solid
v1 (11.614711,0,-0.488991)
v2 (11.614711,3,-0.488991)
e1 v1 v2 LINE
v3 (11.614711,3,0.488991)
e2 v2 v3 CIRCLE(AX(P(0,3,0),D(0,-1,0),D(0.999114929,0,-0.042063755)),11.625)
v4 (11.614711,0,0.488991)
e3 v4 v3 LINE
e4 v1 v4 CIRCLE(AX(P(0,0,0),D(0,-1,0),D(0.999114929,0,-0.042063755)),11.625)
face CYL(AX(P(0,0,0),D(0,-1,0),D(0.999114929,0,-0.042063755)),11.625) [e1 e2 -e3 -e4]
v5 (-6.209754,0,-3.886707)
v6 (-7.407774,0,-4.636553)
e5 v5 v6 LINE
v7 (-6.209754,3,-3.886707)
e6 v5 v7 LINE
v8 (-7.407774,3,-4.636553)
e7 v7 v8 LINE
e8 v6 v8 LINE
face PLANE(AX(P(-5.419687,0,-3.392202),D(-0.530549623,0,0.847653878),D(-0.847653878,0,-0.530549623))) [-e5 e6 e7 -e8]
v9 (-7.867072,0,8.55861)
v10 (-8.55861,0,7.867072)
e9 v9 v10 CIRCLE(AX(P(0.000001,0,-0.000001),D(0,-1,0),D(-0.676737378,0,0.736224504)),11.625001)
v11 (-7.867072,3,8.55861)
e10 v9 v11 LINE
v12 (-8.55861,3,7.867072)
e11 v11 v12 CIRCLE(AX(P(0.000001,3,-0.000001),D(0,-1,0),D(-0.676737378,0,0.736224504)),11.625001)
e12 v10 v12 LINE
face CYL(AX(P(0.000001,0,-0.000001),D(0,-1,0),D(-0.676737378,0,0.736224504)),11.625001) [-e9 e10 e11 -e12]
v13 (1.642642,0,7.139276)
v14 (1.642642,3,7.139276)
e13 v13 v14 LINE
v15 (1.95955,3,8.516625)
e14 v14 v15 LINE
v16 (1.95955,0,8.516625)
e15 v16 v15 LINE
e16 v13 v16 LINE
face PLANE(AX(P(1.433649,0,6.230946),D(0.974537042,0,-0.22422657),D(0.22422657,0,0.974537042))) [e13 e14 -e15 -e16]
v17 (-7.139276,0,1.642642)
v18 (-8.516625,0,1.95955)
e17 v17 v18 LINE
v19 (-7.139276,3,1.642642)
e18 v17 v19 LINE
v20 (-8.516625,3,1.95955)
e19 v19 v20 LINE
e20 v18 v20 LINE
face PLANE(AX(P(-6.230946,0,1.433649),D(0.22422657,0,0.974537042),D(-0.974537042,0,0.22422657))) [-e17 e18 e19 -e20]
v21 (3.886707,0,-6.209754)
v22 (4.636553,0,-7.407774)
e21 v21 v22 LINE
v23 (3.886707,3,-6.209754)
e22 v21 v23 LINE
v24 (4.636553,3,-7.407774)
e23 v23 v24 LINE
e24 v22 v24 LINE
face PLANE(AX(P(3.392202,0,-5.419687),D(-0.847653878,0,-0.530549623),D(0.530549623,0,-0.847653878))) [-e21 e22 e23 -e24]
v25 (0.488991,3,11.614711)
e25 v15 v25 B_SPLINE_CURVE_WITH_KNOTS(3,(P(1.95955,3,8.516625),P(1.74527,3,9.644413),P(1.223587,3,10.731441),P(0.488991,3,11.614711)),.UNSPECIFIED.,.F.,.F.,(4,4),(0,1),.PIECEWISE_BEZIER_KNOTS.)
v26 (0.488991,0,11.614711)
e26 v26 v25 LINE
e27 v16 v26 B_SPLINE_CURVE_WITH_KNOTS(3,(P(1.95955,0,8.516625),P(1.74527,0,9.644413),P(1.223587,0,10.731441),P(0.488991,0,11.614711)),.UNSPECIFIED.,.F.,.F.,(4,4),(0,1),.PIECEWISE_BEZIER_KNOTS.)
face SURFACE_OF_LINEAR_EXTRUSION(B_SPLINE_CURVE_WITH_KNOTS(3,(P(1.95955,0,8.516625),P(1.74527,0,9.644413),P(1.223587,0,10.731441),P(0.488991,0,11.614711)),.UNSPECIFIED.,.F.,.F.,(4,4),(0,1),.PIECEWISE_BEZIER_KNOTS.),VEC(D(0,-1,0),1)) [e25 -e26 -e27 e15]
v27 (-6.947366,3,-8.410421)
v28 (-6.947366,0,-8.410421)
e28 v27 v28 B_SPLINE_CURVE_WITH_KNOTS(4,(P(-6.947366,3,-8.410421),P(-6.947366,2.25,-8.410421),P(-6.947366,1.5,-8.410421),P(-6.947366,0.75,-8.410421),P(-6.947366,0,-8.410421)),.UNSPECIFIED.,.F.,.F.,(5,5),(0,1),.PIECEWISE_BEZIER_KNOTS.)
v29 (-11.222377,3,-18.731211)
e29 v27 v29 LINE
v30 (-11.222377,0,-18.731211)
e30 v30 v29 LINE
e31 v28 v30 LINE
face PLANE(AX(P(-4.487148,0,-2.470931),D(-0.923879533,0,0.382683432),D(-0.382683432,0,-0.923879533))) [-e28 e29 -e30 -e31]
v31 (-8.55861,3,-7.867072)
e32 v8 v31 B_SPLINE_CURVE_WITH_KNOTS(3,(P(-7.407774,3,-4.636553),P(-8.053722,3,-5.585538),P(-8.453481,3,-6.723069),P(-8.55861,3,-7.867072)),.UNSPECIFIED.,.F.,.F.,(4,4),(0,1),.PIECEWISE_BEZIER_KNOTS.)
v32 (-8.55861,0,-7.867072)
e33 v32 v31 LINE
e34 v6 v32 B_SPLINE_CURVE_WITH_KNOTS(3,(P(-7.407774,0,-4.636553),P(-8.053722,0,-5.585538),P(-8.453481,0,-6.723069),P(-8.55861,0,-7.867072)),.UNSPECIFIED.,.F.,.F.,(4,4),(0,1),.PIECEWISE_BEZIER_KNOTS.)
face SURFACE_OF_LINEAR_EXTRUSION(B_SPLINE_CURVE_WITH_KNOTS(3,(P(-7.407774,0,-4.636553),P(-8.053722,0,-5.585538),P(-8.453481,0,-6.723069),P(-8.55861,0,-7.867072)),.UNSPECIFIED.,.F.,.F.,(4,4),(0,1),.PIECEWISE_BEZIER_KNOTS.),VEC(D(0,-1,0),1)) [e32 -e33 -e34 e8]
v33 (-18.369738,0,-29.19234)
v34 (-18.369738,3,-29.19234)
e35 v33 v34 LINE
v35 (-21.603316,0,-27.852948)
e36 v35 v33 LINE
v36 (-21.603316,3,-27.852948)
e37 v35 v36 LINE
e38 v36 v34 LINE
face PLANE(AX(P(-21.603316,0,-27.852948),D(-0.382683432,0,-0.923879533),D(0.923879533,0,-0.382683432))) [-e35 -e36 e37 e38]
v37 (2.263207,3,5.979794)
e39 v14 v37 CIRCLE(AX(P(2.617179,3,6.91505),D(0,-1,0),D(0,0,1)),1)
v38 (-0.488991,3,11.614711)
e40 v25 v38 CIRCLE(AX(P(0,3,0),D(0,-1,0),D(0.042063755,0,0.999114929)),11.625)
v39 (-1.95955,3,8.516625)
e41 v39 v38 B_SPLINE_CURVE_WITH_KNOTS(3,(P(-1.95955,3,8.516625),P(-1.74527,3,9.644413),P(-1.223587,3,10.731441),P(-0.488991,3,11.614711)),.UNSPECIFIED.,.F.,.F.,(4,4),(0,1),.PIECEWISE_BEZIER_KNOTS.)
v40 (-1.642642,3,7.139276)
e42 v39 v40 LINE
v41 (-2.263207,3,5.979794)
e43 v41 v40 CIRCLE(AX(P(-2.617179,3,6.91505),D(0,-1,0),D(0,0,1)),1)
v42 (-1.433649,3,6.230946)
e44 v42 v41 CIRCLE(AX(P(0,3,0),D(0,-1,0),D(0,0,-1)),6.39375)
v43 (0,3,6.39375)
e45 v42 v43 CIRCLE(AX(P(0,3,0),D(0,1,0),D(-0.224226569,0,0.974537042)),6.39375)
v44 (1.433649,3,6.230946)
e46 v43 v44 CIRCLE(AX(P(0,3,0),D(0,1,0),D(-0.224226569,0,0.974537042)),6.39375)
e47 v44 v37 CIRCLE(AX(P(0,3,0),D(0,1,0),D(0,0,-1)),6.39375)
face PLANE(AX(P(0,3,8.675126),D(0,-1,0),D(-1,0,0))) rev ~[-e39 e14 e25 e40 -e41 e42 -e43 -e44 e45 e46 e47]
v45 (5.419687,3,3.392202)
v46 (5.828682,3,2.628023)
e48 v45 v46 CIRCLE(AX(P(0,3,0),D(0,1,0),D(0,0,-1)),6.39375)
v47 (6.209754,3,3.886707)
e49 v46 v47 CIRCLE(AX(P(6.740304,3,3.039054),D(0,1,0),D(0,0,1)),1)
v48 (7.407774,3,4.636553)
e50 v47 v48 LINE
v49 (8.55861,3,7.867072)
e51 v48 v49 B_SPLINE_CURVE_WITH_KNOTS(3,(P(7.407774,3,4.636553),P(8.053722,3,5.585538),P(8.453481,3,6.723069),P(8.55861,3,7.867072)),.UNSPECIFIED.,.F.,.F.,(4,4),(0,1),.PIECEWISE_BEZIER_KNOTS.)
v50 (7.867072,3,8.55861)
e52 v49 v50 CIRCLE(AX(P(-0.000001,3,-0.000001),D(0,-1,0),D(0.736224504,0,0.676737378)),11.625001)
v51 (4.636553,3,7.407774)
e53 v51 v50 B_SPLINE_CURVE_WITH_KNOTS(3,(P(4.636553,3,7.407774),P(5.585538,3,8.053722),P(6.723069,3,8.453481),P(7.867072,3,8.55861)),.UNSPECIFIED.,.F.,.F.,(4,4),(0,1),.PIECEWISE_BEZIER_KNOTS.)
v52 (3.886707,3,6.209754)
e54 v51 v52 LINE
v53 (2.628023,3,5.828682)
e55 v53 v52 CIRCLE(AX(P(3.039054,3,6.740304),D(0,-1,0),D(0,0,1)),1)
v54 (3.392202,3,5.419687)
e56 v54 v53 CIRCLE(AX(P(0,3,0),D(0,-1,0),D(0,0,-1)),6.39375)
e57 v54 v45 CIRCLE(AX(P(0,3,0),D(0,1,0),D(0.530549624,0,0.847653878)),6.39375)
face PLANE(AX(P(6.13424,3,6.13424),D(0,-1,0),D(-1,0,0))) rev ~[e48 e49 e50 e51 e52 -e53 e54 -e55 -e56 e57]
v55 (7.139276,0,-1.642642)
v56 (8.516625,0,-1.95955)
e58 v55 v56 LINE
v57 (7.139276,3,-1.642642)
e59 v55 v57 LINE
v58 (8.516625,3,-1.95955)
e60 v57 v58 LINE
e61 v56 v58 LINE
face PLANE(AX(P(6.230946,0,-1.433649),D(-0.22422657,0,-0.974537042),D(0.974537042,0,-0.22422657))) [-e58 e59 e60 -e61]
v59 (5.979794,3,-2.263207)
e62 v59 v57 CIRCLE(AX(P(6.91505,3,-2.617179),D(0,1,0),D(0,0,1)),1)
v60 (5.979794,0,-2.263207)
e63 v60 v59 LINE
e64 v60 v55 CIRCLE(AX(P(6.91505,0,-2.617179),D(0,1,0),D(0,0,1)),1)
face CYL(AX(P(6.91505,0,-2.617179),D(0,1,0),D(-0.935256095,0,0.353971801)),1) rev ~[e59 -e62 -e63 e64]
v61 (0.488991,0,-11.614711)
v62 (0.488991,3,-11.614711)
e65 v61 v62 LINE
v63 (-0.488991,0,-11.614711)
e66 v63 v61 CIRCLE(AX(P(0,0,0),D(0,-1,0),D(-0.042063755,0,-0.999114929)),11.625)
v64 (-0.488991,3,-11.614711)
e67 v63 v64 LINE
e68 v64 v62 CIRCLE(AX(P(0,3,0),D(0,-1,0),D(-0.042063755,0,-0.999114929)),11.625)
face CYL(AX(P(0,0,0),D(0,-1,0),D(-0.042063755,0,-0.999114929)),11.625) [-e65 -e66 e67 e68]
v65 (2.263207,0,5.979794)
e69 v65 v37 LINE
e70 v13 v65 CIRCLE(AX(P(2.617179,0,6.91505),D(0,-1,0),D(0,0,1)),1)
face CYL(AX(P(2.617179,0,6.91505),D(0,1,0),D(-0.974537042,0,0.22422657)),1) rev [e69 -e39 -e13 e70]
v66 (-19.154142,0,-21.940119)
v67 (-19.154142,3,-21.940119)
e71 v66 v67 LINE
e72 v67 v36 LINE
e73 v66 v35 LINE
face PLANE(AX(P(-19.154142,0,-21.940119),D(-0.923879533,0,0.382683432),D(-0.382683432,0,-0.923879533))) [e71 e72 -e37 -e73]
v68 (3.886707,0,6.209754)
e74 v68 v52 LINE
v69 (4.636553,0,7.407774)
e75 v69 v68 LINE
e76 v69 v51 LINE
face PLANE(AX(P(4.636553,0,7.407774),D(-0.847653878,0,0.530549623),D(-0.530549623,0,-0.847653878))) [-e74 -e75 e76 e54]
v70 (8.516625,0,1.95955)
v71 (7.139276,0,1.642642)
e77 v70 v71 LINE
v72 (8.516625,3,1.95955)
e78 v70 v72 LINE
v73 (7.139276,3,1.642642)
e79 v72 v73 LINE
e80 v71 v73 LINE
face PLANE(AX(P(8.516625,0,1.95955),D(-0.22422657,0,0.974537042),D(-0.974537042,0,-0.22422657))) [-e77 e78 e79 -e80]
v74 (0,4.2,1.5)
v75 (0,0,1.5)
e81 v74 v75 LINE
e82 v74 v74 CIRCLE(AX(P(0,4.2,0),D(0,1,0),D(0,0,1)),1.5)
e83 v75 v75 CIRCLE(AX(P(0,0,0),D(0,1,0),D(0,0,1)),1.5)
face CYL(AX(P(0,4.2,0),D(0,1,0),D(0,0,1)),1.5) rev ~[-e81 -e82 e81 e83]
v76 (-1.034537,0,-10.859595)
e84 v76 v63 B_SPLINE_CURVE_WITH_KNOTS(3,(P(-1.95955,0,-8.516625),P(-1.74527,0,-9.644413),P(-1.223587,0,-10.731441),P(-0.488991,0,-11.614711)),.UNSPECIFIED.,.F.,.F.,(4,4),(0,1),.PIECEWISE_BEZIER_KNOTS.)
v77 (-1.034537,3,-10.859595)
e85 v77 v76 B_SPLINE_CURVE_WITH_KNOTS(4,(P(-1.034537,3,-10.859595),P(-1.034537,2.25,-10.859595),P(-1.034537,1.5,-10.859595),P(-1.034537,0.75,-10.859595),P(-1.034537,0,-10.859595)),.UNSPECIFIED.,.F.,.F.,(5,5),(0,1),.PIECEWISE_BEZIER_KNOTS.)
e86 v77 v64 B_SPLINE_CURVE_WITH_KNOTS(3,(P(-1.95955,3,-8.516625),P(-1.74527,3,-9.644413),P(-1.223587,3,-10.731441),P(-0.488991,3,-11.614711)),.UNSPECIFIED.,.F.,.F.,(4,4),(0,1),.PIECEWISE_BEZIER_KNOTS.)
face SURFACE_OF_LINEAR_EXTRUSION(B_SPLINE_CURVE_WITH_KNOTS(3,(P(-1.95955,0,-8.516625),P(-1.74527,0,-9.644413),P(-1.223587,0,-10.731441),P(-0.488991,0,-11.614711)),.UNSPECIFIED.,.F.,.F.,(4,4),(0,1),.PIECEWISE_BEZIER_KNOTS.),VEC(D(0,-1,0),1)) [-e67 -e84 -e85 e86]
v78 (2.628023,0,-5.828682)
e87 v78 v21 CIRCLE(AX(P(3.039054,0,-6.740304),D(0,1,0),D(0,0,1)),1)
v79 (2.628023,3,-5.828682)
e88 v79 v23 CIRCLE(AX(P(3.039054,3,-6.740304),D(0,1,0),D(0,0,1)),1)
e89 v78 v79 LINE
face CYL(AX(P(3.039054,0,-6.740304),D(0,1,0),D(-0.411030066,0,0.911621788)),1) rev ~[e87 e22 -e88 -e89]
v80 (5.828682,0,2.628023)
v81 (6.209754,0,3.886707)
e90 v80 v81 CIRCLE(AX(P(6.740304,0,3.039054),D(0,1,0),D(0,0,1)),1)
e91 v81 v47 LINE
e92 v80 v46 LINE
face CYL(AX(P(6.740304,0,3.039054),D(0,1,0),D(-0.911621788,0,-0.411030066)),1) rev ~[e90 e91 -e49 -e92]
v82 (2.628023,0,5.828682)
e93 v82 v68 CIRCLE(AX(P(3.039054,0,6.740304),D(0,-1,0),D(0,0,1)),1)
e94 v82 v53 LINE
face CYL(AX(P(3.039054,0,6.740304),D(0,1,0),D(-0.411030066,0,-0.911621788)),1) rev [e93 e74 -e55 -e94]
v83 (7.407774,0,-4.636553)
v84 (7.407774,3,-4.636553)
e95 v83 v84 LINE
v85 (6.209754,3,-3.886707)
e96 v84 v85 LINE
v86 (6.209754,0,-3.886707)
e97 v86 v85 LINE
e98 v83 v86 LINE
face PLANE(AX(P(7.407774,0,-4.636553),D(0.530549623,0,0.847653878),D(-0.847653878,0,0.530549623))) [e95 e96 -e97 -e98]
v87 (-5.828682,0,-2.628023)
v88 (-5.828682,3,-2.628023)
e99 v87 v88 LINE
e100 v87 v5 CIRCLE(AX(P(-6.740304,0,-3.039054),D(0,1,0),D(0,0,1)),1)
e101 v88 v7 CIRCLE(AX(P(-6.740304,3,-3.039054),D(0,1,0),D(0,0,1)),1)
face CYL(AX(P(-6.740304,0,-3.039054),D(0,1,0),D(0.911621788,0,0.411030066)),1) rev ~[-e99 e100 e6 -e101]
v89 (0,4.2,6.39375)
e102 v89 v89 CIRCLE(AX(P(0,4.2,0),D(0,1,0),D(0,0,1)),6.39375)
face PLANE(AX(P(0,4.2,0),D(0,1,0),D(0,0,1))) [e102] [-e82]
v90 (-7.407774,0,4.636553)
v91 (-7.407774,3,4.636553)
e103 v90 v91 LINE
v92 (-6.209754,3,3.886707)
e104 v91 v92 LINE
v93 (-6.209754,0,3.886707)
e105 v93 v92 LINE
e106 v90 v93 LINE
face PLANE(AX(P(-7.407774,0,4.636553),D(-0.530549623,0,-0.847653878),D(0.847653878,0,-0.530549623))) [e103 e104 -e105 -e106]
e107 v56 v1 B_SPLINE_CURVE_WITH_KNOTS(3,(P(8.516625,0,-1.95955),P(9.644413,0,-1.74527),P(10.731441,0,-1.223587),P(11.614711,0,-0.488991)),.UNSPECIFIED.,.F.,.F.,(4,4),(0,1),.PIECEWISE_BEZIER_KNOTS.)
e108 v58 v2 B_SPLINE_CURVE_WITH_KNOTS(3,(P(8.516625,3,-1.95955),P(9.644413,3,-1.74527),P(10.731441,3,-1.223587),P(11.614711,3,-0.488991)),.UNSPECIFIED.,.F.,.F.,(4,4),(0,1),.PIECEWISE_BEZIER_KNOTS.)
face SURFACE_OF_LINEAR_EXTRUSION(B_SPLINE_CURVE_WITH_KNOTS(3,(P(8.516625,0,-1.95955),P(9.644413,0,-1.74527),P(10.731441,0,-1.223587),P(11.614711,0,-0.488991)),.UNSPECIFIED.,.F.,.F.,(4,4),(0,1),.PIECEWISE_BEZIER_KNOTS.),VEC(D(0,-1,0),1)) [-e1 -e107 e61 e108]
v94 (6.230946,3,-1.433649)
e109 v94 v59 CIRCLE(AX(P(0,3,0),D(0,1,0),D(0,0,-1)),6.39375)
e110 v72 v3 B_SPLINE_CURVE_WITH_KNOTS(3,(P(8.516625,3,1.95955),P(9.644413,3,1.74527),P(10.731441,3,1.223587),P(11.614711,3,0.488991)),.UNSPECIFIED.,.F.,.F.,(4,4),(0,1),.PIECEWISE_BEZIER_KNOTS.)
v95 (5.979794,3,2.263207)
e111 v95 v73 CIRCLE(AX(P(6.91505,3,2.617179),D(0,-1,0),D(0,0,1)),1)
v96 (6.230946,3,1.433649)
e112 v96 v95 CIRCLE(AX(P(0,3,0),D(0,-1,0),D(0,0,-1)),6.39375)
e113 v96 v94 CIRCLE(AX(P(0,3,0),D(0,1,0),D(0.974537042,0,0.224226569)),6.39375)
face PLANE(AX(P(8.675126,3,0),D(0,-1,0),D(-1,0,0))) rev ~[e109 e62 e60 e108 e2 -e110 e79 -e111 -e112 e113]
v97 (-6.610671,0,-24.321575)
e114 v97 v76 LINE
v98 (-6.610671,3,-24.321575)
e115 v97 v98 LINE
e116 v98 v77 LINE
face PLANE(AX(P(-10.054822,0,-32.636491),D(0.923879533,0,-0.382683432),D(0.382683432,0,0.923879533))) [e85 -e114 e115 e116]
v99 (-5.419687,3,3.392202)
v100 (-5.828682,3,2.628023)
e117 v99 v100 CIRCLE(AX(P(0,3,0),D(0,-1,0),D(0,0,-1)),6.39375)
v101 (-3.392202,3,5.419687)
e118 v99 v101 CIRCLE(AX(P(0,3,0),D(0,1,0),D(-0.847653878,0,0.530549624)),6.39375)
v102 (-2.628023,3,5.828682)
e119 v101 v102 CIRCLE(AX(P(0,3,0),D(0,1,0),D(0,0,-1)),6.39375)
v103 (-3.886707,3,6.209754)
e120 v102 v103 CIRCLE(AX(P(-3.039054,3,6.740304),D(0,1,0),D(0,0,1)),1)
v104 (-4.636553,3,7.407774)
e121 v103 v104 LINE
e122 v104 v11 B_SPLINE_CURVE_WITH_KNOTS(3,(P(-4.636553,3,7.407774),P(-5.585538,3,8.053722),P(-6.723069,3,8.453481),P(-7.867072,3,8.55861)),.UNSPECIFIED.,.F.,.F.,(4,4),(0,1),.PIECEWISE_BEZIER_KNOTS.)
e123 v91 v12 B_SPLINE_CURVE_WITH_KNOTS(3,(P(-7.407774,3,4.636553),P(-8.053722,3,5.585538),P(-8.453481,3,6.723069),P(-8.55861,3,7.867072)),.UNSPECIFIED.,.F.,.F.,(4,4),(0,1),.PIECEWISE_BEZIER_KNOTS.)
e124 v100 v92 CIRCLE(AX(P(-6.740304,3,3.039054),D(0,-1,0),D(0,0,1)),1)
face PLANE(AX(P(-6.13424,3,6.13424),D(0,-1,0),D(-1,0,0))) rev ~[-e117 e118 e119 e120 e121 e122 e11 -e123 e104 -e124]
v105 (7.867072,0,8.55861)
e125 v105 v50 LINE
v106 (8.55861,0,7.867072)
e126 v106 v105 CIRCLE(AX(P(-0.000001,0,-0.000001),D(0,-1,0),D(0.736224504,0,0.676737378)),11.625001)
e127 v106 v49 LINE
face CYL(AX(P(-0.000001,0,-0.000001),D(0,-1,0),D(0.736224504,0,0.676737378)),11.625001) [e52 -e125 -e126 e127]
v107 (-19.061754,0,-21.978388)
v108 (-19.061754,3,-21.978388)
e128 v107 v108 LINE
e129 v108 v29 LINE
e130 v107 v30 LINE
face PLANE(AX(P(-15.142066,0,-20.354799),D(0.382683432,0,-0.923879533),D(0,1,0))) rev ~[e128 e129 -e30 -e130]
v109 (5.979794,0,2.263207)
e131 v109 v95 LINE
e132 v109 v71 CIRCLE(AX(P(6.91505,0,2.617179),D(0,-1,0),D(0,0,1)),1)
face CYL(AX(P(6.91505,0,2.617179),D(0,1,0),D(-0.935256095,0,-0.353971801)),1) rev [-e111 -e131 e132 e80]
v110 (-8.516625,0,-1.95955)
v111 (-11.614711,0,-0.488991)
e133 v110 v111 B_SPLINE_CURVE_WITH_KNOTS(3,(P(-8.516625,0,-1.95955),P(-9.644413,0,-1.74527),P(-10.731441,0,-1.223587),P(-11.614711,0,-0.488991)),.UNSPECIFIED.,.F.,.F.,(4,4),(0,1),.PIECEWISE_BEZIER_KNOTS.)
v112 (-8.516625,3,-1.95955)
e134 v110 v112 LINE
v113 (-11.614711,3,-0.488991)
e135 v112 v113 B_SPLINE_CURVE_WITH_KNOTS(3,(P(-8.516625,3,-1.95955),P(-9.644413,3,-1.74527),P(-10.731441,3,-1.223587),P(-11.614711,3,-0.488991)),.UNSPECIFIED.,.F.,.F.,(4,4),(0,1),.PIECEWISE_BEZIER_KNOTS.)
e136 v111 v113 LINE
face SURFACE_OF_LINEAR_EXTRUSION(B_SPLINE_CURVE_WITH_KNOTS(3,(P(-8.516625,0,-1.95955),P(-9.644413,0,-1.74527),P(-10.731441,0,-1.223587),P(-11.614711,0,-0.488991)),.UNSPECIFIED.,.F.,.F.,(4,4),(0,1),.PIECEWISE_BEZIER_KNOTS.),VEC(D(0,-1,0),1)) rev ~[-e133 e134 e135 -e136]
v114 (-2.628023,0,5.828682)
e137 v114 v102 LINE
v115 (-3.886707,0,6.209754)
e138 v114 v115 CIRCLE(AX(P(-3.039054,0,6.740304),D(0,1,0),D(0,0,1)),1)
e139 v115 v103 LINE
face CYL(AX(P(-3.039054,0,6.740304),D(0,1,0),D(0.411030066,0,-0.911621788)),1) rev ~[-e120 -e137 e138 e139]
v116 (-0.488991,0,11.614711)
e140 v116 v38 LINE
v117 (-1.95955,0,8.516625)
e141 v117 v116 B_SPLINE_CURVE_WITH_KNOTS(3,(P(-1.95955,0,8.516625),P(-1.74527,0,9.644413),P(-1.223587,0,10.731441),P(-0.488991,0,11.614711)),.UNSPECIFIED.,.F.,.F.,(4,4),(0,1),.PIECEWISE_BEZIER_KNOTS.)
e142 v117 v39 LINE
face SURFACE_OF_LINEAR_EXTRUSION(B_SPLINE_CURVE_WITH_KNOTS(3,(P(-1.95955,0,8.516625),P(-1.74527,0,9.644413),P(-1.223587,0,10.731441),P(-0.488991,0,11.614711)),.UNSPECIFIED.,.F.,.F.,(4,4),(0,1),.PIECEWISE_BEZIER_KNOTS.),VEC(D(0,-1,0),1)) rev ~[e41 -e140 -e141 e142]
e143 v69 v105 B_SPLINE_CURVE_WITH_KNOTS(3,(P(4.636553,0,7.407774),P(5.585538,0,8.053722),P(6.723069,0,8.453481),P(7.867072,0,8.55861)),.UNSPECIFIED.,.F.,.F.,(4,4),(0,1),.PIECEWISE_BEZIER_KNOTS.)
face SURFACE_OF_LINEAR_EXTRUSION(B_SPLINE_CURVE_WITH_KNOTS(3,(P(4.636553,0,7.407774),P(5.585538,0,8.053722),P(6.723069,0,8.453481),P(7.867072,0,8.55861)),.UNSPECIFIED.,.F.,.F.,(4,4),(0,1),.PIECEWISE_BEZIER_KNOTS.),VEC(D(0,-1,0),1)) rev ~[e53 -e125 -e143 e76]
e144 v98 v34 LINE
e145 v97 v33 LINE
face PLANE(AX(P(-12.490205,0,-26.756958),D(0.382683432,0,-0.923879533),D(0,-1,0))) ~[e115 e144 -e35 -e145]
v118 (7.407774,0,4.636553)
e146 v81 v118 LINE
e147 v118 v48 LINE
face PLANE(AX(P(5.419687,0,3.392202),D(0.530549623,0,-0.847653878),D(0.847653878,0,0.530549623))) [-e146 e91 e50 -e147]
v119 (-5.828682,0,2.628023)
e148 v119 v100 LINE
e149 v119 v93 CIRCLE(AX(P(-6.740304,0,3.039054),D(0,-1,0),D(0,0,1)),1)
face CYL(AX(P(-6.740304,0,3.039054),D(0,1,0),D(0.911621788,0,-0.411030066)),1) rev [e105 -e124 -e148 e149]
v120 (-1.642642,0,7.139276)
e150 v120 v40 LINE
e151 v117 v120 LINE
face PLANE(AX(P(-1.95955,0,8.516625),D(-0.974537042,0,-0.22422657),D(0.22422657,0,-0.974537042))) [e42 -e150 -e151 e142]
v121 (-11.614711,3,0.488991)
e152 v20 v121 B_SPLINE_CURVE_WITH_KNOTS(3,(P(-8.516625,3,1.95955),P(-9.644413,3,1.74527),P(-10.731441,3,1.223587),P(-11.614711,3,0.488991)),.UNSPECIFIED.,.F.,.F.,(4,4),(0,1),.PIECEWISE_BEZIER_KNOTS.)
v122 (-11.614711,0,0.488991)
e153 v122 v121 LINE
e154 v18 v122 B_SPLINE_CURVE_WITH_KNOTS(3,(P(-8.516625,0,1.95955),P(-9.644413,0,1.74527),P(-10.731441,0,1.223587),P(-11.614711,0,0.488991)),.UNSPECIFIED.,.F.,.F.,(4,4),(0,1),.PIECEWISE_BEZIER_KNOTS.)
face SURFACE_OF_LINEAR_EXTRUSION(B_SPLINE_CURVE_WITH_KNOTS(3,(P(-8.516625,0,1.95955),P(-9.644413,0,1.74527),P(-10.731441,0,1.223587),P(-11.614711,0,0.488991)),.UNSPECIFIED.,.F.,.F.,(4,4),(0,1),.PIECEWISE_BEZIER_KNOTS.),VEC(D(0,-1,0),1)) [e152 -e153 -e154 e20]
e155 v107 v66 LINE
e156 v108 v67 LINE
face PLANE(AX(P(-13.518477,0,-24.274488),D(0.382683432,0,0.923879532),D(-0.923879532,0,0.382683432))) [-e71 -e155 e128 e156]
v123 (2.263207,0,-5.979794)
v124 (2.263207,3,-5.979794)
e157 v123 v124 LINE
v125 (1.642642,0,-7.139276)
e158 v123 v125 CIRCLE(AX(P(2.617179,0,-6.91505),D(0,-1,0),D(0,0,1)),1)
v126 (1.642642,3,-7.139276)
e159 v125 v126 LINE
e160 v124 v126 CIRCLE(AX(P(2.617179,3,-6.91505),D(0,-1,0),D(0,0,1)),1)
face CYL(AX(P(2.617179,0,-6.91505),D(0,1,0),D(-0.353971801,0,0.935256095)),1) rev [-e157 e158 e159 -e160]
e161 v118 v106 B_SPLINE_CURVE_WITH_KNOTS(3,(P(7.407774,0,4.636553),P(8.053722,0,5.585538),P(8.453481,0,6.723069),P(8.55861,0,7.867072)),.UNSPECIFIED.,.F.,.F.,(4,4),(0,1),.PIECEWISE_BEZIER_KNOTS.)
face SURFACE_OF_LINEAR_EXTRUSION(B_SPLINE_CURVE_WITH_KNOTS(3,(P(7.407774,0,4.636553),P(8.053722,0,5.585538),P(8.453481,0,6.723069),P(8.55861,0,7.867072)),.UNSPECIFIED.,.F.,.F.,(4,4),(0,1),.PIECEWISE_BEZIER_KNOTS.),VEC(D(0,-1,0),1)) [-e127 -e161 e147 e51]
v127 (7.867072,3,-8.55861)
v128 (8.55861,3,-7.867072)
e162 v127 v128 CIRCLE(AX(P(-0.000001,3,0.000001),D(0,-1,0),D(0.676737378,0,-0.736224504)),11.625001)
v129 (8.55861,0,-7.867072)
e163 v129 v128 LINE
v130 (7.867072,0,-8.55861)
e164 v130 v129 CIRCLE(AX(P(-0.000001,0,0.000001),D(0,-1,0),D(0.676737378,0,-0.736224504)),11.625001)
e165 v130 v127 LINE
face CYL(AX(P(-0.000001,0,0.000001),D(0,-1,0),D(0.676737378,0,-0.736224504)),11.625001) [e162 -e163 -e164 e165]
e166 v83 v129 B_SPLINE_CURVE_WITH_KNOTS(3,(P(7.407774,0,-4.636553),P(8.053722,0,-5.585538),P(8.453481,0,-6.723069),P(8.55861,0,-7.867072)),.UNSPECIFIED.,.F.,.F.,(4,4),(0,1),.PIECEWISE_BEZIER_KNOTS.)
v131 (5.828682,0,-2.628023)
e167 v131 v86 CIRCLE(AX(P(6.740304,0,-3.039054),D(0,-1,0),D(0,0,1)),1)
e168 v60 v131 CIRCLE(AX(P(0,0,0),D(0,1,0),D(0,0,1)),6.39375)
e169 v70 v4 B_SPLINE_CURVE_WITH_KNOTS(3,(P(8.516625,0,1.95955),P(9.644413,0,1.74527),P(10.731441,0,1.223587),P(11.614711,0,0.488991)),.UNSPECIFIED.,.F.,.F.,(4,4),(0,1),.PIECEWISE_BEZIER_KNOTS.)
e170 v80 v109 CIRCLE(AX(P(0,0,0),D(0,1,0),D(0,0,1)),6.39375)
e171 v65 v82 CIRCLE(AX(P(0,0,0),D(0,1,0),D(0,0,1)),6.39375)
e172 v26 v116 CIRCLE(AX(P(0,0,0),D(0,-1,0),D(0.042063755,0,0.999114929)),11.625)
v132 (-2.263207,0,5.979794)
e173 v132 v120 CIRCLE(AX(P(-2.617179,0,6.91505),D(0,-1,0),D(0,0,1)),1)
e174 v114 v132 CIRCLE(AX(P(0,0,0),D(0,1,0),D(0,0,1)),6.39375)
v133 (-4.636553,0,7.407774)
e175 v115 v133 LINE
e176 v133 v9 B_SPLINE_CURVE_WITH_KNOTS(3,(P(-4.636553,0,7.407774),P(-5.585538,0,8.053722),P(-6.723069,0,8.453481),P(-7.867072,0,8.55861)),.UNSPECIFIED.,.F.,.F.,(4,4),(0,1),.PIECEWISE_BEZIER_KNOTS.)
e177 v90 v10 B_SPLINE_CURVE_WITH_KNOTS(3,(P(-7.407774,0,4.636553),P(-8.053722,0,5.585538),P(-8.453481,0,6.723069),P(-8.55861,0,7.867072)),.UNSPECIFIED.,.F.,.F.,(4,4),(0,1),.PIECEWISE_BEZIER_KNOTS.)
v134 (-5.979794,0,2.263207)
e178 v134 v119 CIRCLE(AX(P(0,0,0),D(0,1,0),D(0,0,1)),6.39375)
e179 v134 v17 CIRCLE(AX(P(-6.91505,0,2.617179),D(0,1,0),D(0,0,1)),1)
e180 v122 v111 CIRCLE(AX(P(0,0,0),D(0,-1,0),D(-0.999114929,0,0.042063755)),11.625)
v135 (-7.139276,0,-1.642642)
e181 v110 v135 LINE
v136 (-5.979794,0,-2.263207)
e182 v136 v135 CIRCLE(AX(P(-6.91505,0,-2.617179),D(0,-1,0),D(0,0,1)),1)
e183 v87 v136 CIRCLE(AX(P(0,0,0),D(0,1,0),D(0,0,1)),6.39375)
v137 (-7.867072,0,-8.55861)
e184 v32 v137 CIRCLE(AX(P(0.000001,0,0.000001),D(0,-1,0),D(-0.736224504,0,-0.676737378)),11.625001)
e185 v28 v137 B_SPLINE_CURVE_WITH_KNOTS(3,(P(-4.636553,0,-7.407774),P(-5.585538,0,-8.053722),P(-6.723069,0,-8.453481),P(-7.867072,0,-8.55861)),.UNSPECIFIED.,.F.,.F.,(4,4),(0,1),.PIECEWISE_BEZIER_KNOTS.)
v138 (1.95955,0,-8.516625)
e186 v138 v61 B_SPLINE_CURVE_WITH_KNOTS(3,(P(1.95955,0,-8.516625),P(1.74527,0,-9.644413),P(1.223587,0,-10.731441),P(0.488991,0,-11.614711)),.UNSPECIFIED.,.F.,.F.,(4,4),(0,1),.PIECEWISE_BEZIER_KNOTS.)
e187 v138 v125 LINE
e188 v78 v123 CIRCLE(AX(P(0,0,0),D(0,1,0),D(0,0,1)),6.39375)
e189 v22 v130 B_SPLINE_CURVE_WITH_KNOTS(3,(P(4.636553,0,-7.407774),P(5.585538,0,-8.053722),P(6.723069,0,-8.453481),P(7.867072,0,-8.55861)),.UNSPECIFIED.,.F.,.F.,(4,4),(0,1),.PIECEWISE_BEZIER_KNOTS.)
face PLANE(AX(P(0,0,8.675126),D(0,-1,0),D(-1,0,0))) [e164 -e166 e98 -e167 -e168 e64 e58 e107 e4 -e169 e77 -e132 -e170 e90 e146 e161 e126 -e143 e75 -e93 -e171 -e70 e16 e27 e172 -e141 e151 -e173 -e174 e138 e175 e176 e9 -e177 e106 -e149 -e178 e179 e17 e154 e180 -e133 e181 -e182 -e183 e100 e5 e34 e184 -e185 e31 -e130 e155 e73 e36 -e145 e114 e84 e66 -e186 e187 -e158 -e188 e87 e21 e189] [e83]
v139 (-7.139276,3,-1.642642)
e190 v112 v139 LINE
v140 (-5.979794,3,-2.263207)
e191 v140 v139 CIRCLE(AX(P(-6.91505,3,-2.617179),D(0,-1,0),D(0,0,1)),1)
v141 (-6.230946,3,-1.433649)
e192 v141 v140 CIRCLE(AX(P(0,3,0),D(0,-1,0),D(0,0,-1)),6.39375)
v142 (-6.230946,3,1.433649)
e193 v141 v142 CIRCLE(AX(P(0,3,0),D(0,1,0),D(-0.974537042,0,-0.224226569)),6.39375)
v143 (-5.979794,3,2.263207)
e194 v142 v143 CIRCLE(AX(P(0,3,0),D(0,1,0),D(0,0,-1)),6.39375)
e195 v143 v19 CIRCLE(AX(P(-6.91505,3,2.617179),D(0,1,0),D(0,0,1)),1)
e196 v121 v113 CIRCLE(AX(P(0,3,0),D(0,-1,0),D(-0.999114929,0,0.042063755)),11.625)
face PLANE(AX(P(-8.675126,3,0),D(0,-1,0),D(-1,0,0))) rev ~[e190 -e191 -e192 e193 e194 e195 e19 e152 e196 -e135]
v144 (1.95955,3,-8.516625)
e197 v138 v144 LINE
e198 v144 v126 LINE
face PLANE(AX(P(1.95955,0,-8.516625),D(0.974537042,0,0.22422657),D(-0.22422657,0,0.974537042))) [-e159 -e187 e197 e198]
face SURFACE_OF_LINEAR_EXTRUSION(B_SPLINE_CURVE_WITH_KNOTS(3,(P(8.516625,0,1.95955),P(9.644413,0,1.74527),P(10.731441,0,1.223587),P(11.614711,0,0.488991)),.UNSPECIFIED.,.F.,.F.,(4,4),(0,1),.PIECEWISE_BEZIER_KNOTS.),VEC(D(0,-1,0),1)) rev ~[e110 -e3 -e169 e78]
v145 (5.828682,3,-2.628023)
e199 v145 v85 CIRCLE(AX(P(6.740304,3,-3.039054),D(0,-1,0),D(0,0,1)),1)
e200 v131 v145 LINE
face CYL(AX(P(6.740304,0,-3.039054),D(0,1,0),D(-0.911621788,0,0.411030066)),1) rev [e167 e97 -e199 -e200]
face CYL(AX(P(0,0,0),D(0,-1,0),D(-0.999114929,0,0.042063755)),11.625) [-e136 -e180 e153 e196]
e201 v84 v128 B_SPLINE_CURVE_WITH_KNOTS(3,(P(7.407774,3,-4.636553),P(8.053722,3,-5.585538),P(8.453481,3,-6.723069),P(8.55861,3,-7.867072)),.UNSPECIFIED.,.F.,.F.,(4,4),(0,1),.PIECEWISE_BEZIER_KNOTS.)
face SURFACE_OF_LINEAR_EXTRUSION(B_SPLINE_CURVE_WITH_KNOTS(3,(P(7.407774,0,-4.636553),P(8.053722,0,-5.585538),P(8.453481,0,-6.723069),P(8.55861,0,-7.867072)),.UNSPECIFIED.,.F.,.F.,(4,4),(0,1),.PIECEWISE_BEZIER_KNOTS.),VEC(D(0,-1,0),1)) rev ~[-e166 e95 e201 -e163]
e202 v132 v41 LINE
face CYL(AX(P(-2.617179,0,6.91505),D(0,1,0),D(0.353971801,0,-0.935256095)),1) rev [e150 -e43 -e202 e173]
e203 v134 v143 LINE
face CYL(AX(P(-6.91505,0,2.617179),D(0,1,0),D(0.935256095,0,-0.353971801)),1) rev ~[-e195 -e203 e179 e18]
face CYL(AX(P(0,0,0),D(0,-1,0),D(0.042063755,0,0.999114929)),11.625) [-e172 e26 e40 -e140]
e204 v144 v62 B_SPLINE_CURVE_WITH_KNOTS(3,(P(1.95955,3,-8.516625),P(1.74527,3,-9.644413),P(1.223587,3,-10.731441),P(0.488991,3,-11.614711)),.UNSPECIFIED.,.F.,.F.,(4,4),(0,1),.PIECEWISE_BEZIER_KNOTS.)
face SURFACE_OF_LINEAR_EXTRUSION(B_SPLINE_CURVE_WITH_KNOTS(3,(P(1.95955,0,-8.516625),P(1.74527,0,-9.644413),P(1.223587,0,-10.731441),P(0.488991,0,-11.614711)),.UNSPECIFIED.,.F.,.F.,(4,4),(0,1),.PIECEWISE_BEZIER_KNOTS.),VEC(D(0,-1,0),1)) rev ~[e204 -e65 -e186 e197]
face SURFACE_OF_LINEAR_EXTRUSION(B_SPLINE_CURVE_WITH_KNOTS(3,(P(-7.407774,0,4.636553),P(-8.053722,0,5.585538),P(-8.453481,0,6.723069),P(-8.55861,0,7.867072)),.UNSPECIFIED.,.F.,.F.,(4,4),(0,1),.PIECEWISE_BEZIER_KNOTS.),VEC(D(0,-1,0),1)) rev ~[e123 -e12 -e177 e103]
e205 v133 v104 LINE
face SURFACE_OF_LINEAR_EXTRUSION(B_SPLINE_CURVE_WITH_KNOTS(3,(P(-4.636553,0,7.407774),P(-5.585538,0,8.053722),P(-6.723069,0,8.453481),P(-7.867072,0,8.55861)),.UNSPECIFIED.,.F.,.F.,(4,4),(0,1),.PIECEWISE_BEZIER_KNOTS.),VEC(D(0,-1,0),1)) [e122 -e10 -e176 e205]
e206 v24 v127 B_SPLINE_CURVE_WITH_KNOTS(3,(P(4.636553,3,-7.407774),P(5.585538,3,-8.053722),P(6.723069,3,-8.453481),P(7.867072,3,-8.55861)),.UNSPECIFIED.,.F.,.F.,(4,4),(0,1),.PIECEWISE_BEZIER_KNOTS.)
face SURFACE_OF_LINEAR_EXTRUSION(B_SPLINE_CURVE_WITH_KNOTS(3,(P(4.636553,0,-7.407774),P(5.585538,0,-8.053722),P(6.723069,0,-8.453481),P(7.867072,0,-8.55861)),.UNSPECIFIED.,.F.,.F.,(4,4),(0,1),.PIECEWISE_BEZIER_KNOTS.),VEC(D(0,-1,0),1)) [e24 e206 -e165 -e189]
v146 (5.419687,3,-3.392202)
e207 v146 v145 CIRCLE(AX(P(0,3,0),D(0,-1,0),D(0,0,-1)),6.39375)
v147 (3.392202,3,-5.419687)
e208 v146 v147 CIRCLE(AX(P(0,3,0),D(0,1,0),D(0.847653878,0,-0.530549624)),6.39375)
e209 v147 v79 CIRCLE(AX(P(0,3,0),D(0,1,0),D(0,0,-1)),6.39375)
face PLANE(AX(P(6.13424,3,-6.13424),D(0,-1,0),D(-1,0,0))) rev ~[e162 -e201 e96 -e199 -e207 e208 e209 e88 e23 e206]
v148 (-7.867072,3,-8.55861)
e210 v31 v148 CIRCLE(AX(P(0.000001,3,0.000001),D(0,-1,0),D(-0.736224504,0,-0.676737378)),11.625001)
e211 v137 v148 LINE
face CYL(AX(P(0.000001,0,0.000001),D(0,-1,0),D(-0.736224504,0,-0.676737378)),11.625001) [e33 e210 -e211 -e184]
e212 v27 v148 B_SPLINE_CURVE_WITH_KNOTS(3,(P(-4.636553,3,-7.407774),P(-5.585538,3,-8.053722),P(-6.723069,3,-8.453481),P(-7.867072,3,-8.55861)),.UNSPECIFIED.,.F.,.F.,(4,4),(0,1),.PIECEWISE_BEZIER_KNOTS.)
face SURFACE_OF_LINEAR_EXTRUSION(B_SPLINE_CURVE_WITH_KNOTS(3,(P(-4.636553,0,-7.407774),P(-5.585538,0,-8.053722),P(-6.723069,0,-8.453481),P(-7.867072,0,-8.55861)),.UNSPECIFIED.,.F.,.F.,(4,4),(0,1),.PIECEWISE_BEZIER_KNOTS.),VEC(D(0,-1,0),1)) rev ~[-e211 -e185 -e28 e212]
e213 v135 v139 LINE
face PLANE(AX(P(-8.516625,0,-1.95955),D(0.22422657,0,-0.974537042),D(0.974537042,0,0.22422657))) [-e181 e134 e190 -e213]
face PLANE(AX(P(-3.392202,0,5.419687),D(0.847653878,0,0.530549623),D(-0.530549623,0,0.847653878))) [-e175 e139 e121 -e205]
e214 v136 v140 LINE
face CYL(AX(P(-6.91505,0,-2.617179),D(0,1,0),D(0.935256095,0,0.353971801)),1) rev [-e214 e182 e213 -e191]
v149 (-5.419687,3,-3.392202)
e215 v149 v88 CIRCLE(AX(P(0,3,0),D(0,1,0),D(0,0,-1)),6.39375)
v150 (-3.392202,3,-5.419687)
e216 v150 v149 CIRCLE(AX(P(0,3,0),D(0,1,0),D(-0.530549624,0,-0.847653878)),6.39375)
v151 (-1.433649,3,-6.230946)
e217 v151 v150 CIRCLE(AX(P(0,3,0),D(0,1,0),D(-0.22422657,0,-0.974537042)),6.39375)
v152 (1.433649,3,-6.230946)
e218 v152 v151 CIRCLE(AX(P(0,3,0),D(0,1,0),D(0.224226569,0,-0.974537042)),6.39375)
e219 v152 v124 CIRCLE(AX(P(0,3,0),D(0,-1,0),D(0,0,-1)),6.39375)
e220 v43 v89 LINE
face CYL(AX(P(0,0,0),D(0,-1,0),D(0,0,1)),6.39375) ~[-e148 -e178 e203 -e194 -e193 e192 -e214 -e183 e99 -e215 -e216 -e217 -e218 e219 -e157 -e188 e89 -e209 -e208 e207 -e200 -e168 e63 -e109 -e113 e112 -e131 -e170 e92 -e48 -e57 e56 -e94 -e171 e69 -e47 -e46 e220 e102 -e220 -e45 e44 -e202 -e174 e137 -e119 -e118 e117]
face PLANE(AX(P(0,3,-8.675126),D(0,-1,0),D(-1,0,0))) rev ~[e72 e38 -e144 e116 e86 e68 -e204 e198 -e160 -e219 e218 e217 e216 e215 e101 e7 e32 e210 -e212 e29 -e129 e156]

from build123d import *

# Parameters (mm, degrees)
SKETCH1_R           = 6.39375
BOSS_EXTRUDE1_DEPTH = 4.2
BOSS_EXTRUDE2_DEPTH = 3
FILLET1_R           = 1
SKETCH3_R           = 1.5
CUT_EXTRUDE1_DEPTH  = 17.968242557
BOSS_EXTRUDE3_DEPTH = 3
CHAMFER1_SIZE       = 9
CHAMFER2_SIZE       = 6


with BuildPart() as part:
    # Sketch1 → Boss-Extrude1 (new body)
    with BuildSketch(Plane(origin=(0, 0, 0), x_dir=(1, 0, 0), z_dir=(0, 1, 0))):
        with Locations(Location((0, 0, 0), (0, 0, 270))):
            Circle(SKETCH1_R)
    extrude(amount=BOSS_EXTRUDE1_DEPTH)

    # Sketch2 → Boss-Extrude2 (add)
    with BuildSketch(Plane(origin=(0, 0, 0), x_dir=(1, 0, 0), z_dir=(0, 1, 0))):
        with BuildLine():
            Line((-1.433648629, 6.23094621), (-1.959549626, 8.516625387))
            add(Edge.make_bspline(
                [(-1.959549626, 8.516625387), (-1.745269759, 9.644412797), (-1.223586565, 10.731441367), (-0.488991141, 11.614711045)],
                knots=[0, 0, 0, 0, 1, 1, 1, 1], degree=3))
            ThreePointArc((-0.488991141, 11.614711045), (0, 11.625), (0.488991141, 11.614711045))
            add(Edge.make_bspline(
                [(1.959549626, 8.516625387), (1.745269759, 9.644412797), (1.223586565, 10.731441367), (0.488991141, 11.614711045)],
                knots=[0, 0, 0, 0, 1, 1, 1, 1], degree=3))
            Line((1.959549626, 8.516625387), (1.433648629, 6.23094621))
            ThreePointArc((1.433648629, 6.23094621), (0, 6.39375), (-1.433648629, 6.23094621))
        make_face()
        with BuildLine():
            Line((3.392201651, 5.419686986), (4.636552736, 7.407774392))
            add(Edge.make_bspline(
                [(4.636552736, 7.407774392), (5.585537608, 8.053721771), (6.723068605, 8.45348132), (7.86707199, 8.558609894)],
                knots=[0, 0, 0, 0, 1, 1, 1, 1], degree=3))
            ThreePointArc((7.86707199, 8.558609894), (8.220116331, 8.220116331), (8.558609894, 7.86707199))
            add(Edge.make_bspline(
                [(7.407774392, 4.636552736), (8.053721771, 5.585537608), (8.45348132, 6.723068605), (8.558609894, 7.86707199)],
                knots=[0, 0, 0, 0, 1, 1, 1, 1], degree=3))
            Line((7.407774392, 4.636552736), (5.419686986, 3.392201651))
            ThreePointArc((5.419686986, 3.392201651), (4.521063982, 4.521063982), (3.392201651, 5.419686986))
        make_face()
        with BuildLine():
            Line((6.23094621, 1.433648629), (8.516625387, 1.959549626))
            add(Edge.make_bspline(
                [(8.516625387, 1.959549626), (9.644412797, 1.745269759), (10.731441367, 1.223586565), (11.614711045, 0.488991141)],
                knots=[0, 0, 0, 0, 1, 1, 1, 1], degree=3))
            ThreePointArc((11.614711045, 0.488991141), (11.625, 0), (11.614711045, -0.488991141))
            add(Edge.make_bspline(
                [(8.516625387, -1.959549626), (9.644412797, -1.745269759), (10.731441367, -1.223586565), (11.614711045, -0.488991141)],
                knots=[0, 0, 0, 0, 1, 1, 1, 1], degree=3))
            Line((8.516625387, -1.959549626), (6.23094621, -1.433648629))
            ThreePointArc((6.23094621, -1.433648629), (6.39375, 0), (6.23094621, 1.433648629))
        make_face()
        with BuildLine():
            Line((5.419686986, -3.392201651), (7.407774392, -4.636552736))
            add(Edge.make_bspline(
                [(7.407774392, -4.636552736), (8.053721771, -5.585537608), (8.45348132, -6.723068605), (8.558609894, -7.86707199)],
                knots=[0, 0, 0, 0, 1, 1, 1, 1], degree=3))
            ThreePointArc((8.558609894, -7.86707199), (8.220116331, -8.220116331), (7.86707199, -8.558609894))
            add(Edge.make_bspline(
                [(4.636552736, -7.407774392), (5.585537608, -8.053721771), (6.723068605, -8.45348132), (7.86707199, -8.558609894)],
                knots=[0, 0, 0, 0, 1, 1, 1, 1], degree=3))
            Line((4.636552736, -7.407774392), (3.392201651, -5.419686986))
            ThreePointArc((3.392201651, -5.419686986), (4.521063982, -4.521063982), (5.419686986, -3.392201651))
        make_face()
        with BuildLine():
            Line((1.433648629, -6.23094621), (1.959549626, -8.516625387))
            add(Edge.make_bspline(
                [(1.959549626, -8.516625387), (1.745269759, -9.644412797), (1.223586565, -10.731441367), (0.488991141, -11.614711045)],
                knots=[0, 0, 0, 0, 1, 1, 1, 1], degree=3))
            ThreePointArc((0.488991141, -11.614711045), (0, -11.625), (-0.488991141, -11.614711045))
            add(Edge.make_bspline(
                [(-1.959549626, -8.516625387), (-1.745269759, -9.644412797), (-1.223586565, -10.731441367), (-0.488991141, -11.614711045)],
                knots=[0, 0, 0, 0, 1, 1, 1, 1], degree=3))
            Line((-1.959549626, -8.516625387), (-1.433648629, -6.23094621))
            ThreePointArc((-1.433648629, -6.23094621), (0, -6.39375), (1.433648629, -6.23094621))
        make_face()
        with BuildLine():
            Line((-3.392201651, -5.419686986), (-4.636552736, -7.407774392))
            add(Edge.make_bspline(
                [(-4.636552736, -7.407774392), (-5.585537608, -8.053721771), (-6.723068605, -8.45348132), (-7.86707199, -8.558609894)],
                knots=[0, 0, 0, 0, 1, 1, 1, 1], degree=3))
            ThreePointArc((-7.86707199, -8.558609894), (-8.220116331, -8.220116331), (-8.558609894, -7.86707199))
            add(Edge.make_bspline(
                [(-7.407774392, -4.636552736), (-8.053721771, -5.585537608), (-8.45348132, -6.723068605), (-8.558609894, -7.86707199)],
                knots=[0, 0, 0, 0, 1, 1, 1, 1], degree=3))
            Line((-7.407774392, -4.636552736), (-5.419686986, -3.392201651))
            ThreePointArc((-5.419686986, -3.392201651), (-4.521063982, -4.521063982), (-3.392201651, -5.419686986))
        make_face()
        with BuildLine():
            Line((-6.23094621, -1.433648629), (-8.516625387, -1.959549626))
            add(Edge.make_bspline(
                [(-8.516625387, -1.959549626), (-9.644412797, -1.745269759), (-10.731441367, -1.223586565), (-11.614711045, -0.488991141)],
                knots=[0, 0, 0, 0, 1, 1, 1, 1], degree=3))
            ThreePointArc((-11.614711045, -0.488991141), (-11.625, 0), (-11.614711045, 0.488991141))
            add(Edge.make_bspline(
                [(-8.516625387, 1.959549626), (-9.644412797, 1.745269759), (-10.731441367, 1.223586565), (-11.614711045, 0.488991141)],
                knots=[0, 0, 0, 0, 1, 1, 1, 1], degree=3))
            Line((-8.516625387, 1.959549626), (-6.23094621, 1.433648629))
            ThreePointArc((-6.23094621, 1.433648629), (-6.39375, 0), (-6.23094621, -1.433648629))
        make_face()
        with BuildLine():
            Line((-5.419686986, 3.392201651), (-7.407774392, 4.636552736))
            add(Edge.make_bspline(
                [(-7.407774392, 4.636552736), (-8.053721771, 5.585537608), (-8.45348132, 6.723068605), (-8.558609894, 7.86707199)],
                knots=[0, 0, 0, 0, 1, 1, 1, 1], degree=3))
            ThreePointArc((-8.558609894, 7.86707199), (-8.220116331, 8.220116331), (-7.86707199, 8.558609894))
            add(Edge.make_bspline(
                [(-4.636552736, 7.407774392), (-5.585537608, 8.053721771), (-6.723068605, 8.45348132), (-7.86707199, 8.558609894)],
                knots=[0, 0, 0, 0, 1, 1, 1, 1], degree=3))
            Line((-4.636552736, 7.407774392), (-3.392201651, 5.419686986))
            ThreePointArc((-3.392201651, 5.419686986), (-4.521063982, 4.521063982), (-5.419686986, 3.392201651))
        make_face()
    extrude(amount=BOSS_EXTRUDE2_DEPTH)

    # Fillet1
    fillet1_edges = [part.edges().sort_by_distance(p)[0] for p in [
        (-5.419686986, 1.5, -3.392201651),
        (-3.392201651, 1.5, -5.419686986),
        (3.392201651, 1.5, -5.419686986),
        (5.419686986, 1.5, -3.392201651),
        (6.23094621, 1.5, -1.433648629),
        (6.23094621, 1.5, 1.433648629),
        (5.419686986, 1.5, 3.392201651),
        (3.392201651, 1.5, 5.419686986),
        (1.433648629, 1.5, 6.23094621),
        (-1.433648629, 1.5, 6.23094621),
        (-3.392201651, 1.5, 5.419686986),
        (-5.419686986, 1.5, 3.392201651),
        (-1.433648629, 1.5, -6.23094621),
        (1.433648629, 1.5, -6.23094621),
        (-6.23094621, 1.5, 1.433648629),
        (-6.23094621, 1.5, -1.433648629),
    ]]
    fillet(fillet1_edges, radius=FILLET1_R)

    # Sketch3 → Cut-Extrude1 (cut, through all)
    with BuildSketch(Plane(origin=(0, 4.2, 0), x_dir=(1, 0, 0), z_dir=(0, 1, 0))):
        with Locations(Location((0, 0, 0), (0, 0, 270))):
            Circle(SKETCH3_R)
    extrude(amount=-CUT_EXTRUDE1_DEPTH, mode=Mode.SUBTRACT)

    # Sketch4 → Boss-Extrude3 (add)
    with BuildSketch(Plane.XZ):
        Polygon((1.425680775, -4.920105114), (-4.487148233, -2.470931146), (-13.518477237, -24.274488114), (-19.154142386, -21.940119176), (-21.603316353, -27.852948184), (-10.054822196, -32.636491089), align=None)
    extrude(amount=-BOSS_EXTRUDE3_DEPTH)

    # Chamfer1
    chamfer1_edges = [part.edges().sort_by_distance(p)[0] for p in [
        (-10.054822196, 1.5, -32.636491089),
    ]]
    chamfer(chamfer1_edges, length=CHAMFER1_SIZE)

    # Chamfer2
    chamfer2_edges = [part.edges().sort_by_distance(p)[0] for p in [
        (-13.518477237, 1.5, -24.274488114),
    ]]
    chamfer(chamfer2_edges, length=CHAMFER2_SIZE)


solid = part.part
